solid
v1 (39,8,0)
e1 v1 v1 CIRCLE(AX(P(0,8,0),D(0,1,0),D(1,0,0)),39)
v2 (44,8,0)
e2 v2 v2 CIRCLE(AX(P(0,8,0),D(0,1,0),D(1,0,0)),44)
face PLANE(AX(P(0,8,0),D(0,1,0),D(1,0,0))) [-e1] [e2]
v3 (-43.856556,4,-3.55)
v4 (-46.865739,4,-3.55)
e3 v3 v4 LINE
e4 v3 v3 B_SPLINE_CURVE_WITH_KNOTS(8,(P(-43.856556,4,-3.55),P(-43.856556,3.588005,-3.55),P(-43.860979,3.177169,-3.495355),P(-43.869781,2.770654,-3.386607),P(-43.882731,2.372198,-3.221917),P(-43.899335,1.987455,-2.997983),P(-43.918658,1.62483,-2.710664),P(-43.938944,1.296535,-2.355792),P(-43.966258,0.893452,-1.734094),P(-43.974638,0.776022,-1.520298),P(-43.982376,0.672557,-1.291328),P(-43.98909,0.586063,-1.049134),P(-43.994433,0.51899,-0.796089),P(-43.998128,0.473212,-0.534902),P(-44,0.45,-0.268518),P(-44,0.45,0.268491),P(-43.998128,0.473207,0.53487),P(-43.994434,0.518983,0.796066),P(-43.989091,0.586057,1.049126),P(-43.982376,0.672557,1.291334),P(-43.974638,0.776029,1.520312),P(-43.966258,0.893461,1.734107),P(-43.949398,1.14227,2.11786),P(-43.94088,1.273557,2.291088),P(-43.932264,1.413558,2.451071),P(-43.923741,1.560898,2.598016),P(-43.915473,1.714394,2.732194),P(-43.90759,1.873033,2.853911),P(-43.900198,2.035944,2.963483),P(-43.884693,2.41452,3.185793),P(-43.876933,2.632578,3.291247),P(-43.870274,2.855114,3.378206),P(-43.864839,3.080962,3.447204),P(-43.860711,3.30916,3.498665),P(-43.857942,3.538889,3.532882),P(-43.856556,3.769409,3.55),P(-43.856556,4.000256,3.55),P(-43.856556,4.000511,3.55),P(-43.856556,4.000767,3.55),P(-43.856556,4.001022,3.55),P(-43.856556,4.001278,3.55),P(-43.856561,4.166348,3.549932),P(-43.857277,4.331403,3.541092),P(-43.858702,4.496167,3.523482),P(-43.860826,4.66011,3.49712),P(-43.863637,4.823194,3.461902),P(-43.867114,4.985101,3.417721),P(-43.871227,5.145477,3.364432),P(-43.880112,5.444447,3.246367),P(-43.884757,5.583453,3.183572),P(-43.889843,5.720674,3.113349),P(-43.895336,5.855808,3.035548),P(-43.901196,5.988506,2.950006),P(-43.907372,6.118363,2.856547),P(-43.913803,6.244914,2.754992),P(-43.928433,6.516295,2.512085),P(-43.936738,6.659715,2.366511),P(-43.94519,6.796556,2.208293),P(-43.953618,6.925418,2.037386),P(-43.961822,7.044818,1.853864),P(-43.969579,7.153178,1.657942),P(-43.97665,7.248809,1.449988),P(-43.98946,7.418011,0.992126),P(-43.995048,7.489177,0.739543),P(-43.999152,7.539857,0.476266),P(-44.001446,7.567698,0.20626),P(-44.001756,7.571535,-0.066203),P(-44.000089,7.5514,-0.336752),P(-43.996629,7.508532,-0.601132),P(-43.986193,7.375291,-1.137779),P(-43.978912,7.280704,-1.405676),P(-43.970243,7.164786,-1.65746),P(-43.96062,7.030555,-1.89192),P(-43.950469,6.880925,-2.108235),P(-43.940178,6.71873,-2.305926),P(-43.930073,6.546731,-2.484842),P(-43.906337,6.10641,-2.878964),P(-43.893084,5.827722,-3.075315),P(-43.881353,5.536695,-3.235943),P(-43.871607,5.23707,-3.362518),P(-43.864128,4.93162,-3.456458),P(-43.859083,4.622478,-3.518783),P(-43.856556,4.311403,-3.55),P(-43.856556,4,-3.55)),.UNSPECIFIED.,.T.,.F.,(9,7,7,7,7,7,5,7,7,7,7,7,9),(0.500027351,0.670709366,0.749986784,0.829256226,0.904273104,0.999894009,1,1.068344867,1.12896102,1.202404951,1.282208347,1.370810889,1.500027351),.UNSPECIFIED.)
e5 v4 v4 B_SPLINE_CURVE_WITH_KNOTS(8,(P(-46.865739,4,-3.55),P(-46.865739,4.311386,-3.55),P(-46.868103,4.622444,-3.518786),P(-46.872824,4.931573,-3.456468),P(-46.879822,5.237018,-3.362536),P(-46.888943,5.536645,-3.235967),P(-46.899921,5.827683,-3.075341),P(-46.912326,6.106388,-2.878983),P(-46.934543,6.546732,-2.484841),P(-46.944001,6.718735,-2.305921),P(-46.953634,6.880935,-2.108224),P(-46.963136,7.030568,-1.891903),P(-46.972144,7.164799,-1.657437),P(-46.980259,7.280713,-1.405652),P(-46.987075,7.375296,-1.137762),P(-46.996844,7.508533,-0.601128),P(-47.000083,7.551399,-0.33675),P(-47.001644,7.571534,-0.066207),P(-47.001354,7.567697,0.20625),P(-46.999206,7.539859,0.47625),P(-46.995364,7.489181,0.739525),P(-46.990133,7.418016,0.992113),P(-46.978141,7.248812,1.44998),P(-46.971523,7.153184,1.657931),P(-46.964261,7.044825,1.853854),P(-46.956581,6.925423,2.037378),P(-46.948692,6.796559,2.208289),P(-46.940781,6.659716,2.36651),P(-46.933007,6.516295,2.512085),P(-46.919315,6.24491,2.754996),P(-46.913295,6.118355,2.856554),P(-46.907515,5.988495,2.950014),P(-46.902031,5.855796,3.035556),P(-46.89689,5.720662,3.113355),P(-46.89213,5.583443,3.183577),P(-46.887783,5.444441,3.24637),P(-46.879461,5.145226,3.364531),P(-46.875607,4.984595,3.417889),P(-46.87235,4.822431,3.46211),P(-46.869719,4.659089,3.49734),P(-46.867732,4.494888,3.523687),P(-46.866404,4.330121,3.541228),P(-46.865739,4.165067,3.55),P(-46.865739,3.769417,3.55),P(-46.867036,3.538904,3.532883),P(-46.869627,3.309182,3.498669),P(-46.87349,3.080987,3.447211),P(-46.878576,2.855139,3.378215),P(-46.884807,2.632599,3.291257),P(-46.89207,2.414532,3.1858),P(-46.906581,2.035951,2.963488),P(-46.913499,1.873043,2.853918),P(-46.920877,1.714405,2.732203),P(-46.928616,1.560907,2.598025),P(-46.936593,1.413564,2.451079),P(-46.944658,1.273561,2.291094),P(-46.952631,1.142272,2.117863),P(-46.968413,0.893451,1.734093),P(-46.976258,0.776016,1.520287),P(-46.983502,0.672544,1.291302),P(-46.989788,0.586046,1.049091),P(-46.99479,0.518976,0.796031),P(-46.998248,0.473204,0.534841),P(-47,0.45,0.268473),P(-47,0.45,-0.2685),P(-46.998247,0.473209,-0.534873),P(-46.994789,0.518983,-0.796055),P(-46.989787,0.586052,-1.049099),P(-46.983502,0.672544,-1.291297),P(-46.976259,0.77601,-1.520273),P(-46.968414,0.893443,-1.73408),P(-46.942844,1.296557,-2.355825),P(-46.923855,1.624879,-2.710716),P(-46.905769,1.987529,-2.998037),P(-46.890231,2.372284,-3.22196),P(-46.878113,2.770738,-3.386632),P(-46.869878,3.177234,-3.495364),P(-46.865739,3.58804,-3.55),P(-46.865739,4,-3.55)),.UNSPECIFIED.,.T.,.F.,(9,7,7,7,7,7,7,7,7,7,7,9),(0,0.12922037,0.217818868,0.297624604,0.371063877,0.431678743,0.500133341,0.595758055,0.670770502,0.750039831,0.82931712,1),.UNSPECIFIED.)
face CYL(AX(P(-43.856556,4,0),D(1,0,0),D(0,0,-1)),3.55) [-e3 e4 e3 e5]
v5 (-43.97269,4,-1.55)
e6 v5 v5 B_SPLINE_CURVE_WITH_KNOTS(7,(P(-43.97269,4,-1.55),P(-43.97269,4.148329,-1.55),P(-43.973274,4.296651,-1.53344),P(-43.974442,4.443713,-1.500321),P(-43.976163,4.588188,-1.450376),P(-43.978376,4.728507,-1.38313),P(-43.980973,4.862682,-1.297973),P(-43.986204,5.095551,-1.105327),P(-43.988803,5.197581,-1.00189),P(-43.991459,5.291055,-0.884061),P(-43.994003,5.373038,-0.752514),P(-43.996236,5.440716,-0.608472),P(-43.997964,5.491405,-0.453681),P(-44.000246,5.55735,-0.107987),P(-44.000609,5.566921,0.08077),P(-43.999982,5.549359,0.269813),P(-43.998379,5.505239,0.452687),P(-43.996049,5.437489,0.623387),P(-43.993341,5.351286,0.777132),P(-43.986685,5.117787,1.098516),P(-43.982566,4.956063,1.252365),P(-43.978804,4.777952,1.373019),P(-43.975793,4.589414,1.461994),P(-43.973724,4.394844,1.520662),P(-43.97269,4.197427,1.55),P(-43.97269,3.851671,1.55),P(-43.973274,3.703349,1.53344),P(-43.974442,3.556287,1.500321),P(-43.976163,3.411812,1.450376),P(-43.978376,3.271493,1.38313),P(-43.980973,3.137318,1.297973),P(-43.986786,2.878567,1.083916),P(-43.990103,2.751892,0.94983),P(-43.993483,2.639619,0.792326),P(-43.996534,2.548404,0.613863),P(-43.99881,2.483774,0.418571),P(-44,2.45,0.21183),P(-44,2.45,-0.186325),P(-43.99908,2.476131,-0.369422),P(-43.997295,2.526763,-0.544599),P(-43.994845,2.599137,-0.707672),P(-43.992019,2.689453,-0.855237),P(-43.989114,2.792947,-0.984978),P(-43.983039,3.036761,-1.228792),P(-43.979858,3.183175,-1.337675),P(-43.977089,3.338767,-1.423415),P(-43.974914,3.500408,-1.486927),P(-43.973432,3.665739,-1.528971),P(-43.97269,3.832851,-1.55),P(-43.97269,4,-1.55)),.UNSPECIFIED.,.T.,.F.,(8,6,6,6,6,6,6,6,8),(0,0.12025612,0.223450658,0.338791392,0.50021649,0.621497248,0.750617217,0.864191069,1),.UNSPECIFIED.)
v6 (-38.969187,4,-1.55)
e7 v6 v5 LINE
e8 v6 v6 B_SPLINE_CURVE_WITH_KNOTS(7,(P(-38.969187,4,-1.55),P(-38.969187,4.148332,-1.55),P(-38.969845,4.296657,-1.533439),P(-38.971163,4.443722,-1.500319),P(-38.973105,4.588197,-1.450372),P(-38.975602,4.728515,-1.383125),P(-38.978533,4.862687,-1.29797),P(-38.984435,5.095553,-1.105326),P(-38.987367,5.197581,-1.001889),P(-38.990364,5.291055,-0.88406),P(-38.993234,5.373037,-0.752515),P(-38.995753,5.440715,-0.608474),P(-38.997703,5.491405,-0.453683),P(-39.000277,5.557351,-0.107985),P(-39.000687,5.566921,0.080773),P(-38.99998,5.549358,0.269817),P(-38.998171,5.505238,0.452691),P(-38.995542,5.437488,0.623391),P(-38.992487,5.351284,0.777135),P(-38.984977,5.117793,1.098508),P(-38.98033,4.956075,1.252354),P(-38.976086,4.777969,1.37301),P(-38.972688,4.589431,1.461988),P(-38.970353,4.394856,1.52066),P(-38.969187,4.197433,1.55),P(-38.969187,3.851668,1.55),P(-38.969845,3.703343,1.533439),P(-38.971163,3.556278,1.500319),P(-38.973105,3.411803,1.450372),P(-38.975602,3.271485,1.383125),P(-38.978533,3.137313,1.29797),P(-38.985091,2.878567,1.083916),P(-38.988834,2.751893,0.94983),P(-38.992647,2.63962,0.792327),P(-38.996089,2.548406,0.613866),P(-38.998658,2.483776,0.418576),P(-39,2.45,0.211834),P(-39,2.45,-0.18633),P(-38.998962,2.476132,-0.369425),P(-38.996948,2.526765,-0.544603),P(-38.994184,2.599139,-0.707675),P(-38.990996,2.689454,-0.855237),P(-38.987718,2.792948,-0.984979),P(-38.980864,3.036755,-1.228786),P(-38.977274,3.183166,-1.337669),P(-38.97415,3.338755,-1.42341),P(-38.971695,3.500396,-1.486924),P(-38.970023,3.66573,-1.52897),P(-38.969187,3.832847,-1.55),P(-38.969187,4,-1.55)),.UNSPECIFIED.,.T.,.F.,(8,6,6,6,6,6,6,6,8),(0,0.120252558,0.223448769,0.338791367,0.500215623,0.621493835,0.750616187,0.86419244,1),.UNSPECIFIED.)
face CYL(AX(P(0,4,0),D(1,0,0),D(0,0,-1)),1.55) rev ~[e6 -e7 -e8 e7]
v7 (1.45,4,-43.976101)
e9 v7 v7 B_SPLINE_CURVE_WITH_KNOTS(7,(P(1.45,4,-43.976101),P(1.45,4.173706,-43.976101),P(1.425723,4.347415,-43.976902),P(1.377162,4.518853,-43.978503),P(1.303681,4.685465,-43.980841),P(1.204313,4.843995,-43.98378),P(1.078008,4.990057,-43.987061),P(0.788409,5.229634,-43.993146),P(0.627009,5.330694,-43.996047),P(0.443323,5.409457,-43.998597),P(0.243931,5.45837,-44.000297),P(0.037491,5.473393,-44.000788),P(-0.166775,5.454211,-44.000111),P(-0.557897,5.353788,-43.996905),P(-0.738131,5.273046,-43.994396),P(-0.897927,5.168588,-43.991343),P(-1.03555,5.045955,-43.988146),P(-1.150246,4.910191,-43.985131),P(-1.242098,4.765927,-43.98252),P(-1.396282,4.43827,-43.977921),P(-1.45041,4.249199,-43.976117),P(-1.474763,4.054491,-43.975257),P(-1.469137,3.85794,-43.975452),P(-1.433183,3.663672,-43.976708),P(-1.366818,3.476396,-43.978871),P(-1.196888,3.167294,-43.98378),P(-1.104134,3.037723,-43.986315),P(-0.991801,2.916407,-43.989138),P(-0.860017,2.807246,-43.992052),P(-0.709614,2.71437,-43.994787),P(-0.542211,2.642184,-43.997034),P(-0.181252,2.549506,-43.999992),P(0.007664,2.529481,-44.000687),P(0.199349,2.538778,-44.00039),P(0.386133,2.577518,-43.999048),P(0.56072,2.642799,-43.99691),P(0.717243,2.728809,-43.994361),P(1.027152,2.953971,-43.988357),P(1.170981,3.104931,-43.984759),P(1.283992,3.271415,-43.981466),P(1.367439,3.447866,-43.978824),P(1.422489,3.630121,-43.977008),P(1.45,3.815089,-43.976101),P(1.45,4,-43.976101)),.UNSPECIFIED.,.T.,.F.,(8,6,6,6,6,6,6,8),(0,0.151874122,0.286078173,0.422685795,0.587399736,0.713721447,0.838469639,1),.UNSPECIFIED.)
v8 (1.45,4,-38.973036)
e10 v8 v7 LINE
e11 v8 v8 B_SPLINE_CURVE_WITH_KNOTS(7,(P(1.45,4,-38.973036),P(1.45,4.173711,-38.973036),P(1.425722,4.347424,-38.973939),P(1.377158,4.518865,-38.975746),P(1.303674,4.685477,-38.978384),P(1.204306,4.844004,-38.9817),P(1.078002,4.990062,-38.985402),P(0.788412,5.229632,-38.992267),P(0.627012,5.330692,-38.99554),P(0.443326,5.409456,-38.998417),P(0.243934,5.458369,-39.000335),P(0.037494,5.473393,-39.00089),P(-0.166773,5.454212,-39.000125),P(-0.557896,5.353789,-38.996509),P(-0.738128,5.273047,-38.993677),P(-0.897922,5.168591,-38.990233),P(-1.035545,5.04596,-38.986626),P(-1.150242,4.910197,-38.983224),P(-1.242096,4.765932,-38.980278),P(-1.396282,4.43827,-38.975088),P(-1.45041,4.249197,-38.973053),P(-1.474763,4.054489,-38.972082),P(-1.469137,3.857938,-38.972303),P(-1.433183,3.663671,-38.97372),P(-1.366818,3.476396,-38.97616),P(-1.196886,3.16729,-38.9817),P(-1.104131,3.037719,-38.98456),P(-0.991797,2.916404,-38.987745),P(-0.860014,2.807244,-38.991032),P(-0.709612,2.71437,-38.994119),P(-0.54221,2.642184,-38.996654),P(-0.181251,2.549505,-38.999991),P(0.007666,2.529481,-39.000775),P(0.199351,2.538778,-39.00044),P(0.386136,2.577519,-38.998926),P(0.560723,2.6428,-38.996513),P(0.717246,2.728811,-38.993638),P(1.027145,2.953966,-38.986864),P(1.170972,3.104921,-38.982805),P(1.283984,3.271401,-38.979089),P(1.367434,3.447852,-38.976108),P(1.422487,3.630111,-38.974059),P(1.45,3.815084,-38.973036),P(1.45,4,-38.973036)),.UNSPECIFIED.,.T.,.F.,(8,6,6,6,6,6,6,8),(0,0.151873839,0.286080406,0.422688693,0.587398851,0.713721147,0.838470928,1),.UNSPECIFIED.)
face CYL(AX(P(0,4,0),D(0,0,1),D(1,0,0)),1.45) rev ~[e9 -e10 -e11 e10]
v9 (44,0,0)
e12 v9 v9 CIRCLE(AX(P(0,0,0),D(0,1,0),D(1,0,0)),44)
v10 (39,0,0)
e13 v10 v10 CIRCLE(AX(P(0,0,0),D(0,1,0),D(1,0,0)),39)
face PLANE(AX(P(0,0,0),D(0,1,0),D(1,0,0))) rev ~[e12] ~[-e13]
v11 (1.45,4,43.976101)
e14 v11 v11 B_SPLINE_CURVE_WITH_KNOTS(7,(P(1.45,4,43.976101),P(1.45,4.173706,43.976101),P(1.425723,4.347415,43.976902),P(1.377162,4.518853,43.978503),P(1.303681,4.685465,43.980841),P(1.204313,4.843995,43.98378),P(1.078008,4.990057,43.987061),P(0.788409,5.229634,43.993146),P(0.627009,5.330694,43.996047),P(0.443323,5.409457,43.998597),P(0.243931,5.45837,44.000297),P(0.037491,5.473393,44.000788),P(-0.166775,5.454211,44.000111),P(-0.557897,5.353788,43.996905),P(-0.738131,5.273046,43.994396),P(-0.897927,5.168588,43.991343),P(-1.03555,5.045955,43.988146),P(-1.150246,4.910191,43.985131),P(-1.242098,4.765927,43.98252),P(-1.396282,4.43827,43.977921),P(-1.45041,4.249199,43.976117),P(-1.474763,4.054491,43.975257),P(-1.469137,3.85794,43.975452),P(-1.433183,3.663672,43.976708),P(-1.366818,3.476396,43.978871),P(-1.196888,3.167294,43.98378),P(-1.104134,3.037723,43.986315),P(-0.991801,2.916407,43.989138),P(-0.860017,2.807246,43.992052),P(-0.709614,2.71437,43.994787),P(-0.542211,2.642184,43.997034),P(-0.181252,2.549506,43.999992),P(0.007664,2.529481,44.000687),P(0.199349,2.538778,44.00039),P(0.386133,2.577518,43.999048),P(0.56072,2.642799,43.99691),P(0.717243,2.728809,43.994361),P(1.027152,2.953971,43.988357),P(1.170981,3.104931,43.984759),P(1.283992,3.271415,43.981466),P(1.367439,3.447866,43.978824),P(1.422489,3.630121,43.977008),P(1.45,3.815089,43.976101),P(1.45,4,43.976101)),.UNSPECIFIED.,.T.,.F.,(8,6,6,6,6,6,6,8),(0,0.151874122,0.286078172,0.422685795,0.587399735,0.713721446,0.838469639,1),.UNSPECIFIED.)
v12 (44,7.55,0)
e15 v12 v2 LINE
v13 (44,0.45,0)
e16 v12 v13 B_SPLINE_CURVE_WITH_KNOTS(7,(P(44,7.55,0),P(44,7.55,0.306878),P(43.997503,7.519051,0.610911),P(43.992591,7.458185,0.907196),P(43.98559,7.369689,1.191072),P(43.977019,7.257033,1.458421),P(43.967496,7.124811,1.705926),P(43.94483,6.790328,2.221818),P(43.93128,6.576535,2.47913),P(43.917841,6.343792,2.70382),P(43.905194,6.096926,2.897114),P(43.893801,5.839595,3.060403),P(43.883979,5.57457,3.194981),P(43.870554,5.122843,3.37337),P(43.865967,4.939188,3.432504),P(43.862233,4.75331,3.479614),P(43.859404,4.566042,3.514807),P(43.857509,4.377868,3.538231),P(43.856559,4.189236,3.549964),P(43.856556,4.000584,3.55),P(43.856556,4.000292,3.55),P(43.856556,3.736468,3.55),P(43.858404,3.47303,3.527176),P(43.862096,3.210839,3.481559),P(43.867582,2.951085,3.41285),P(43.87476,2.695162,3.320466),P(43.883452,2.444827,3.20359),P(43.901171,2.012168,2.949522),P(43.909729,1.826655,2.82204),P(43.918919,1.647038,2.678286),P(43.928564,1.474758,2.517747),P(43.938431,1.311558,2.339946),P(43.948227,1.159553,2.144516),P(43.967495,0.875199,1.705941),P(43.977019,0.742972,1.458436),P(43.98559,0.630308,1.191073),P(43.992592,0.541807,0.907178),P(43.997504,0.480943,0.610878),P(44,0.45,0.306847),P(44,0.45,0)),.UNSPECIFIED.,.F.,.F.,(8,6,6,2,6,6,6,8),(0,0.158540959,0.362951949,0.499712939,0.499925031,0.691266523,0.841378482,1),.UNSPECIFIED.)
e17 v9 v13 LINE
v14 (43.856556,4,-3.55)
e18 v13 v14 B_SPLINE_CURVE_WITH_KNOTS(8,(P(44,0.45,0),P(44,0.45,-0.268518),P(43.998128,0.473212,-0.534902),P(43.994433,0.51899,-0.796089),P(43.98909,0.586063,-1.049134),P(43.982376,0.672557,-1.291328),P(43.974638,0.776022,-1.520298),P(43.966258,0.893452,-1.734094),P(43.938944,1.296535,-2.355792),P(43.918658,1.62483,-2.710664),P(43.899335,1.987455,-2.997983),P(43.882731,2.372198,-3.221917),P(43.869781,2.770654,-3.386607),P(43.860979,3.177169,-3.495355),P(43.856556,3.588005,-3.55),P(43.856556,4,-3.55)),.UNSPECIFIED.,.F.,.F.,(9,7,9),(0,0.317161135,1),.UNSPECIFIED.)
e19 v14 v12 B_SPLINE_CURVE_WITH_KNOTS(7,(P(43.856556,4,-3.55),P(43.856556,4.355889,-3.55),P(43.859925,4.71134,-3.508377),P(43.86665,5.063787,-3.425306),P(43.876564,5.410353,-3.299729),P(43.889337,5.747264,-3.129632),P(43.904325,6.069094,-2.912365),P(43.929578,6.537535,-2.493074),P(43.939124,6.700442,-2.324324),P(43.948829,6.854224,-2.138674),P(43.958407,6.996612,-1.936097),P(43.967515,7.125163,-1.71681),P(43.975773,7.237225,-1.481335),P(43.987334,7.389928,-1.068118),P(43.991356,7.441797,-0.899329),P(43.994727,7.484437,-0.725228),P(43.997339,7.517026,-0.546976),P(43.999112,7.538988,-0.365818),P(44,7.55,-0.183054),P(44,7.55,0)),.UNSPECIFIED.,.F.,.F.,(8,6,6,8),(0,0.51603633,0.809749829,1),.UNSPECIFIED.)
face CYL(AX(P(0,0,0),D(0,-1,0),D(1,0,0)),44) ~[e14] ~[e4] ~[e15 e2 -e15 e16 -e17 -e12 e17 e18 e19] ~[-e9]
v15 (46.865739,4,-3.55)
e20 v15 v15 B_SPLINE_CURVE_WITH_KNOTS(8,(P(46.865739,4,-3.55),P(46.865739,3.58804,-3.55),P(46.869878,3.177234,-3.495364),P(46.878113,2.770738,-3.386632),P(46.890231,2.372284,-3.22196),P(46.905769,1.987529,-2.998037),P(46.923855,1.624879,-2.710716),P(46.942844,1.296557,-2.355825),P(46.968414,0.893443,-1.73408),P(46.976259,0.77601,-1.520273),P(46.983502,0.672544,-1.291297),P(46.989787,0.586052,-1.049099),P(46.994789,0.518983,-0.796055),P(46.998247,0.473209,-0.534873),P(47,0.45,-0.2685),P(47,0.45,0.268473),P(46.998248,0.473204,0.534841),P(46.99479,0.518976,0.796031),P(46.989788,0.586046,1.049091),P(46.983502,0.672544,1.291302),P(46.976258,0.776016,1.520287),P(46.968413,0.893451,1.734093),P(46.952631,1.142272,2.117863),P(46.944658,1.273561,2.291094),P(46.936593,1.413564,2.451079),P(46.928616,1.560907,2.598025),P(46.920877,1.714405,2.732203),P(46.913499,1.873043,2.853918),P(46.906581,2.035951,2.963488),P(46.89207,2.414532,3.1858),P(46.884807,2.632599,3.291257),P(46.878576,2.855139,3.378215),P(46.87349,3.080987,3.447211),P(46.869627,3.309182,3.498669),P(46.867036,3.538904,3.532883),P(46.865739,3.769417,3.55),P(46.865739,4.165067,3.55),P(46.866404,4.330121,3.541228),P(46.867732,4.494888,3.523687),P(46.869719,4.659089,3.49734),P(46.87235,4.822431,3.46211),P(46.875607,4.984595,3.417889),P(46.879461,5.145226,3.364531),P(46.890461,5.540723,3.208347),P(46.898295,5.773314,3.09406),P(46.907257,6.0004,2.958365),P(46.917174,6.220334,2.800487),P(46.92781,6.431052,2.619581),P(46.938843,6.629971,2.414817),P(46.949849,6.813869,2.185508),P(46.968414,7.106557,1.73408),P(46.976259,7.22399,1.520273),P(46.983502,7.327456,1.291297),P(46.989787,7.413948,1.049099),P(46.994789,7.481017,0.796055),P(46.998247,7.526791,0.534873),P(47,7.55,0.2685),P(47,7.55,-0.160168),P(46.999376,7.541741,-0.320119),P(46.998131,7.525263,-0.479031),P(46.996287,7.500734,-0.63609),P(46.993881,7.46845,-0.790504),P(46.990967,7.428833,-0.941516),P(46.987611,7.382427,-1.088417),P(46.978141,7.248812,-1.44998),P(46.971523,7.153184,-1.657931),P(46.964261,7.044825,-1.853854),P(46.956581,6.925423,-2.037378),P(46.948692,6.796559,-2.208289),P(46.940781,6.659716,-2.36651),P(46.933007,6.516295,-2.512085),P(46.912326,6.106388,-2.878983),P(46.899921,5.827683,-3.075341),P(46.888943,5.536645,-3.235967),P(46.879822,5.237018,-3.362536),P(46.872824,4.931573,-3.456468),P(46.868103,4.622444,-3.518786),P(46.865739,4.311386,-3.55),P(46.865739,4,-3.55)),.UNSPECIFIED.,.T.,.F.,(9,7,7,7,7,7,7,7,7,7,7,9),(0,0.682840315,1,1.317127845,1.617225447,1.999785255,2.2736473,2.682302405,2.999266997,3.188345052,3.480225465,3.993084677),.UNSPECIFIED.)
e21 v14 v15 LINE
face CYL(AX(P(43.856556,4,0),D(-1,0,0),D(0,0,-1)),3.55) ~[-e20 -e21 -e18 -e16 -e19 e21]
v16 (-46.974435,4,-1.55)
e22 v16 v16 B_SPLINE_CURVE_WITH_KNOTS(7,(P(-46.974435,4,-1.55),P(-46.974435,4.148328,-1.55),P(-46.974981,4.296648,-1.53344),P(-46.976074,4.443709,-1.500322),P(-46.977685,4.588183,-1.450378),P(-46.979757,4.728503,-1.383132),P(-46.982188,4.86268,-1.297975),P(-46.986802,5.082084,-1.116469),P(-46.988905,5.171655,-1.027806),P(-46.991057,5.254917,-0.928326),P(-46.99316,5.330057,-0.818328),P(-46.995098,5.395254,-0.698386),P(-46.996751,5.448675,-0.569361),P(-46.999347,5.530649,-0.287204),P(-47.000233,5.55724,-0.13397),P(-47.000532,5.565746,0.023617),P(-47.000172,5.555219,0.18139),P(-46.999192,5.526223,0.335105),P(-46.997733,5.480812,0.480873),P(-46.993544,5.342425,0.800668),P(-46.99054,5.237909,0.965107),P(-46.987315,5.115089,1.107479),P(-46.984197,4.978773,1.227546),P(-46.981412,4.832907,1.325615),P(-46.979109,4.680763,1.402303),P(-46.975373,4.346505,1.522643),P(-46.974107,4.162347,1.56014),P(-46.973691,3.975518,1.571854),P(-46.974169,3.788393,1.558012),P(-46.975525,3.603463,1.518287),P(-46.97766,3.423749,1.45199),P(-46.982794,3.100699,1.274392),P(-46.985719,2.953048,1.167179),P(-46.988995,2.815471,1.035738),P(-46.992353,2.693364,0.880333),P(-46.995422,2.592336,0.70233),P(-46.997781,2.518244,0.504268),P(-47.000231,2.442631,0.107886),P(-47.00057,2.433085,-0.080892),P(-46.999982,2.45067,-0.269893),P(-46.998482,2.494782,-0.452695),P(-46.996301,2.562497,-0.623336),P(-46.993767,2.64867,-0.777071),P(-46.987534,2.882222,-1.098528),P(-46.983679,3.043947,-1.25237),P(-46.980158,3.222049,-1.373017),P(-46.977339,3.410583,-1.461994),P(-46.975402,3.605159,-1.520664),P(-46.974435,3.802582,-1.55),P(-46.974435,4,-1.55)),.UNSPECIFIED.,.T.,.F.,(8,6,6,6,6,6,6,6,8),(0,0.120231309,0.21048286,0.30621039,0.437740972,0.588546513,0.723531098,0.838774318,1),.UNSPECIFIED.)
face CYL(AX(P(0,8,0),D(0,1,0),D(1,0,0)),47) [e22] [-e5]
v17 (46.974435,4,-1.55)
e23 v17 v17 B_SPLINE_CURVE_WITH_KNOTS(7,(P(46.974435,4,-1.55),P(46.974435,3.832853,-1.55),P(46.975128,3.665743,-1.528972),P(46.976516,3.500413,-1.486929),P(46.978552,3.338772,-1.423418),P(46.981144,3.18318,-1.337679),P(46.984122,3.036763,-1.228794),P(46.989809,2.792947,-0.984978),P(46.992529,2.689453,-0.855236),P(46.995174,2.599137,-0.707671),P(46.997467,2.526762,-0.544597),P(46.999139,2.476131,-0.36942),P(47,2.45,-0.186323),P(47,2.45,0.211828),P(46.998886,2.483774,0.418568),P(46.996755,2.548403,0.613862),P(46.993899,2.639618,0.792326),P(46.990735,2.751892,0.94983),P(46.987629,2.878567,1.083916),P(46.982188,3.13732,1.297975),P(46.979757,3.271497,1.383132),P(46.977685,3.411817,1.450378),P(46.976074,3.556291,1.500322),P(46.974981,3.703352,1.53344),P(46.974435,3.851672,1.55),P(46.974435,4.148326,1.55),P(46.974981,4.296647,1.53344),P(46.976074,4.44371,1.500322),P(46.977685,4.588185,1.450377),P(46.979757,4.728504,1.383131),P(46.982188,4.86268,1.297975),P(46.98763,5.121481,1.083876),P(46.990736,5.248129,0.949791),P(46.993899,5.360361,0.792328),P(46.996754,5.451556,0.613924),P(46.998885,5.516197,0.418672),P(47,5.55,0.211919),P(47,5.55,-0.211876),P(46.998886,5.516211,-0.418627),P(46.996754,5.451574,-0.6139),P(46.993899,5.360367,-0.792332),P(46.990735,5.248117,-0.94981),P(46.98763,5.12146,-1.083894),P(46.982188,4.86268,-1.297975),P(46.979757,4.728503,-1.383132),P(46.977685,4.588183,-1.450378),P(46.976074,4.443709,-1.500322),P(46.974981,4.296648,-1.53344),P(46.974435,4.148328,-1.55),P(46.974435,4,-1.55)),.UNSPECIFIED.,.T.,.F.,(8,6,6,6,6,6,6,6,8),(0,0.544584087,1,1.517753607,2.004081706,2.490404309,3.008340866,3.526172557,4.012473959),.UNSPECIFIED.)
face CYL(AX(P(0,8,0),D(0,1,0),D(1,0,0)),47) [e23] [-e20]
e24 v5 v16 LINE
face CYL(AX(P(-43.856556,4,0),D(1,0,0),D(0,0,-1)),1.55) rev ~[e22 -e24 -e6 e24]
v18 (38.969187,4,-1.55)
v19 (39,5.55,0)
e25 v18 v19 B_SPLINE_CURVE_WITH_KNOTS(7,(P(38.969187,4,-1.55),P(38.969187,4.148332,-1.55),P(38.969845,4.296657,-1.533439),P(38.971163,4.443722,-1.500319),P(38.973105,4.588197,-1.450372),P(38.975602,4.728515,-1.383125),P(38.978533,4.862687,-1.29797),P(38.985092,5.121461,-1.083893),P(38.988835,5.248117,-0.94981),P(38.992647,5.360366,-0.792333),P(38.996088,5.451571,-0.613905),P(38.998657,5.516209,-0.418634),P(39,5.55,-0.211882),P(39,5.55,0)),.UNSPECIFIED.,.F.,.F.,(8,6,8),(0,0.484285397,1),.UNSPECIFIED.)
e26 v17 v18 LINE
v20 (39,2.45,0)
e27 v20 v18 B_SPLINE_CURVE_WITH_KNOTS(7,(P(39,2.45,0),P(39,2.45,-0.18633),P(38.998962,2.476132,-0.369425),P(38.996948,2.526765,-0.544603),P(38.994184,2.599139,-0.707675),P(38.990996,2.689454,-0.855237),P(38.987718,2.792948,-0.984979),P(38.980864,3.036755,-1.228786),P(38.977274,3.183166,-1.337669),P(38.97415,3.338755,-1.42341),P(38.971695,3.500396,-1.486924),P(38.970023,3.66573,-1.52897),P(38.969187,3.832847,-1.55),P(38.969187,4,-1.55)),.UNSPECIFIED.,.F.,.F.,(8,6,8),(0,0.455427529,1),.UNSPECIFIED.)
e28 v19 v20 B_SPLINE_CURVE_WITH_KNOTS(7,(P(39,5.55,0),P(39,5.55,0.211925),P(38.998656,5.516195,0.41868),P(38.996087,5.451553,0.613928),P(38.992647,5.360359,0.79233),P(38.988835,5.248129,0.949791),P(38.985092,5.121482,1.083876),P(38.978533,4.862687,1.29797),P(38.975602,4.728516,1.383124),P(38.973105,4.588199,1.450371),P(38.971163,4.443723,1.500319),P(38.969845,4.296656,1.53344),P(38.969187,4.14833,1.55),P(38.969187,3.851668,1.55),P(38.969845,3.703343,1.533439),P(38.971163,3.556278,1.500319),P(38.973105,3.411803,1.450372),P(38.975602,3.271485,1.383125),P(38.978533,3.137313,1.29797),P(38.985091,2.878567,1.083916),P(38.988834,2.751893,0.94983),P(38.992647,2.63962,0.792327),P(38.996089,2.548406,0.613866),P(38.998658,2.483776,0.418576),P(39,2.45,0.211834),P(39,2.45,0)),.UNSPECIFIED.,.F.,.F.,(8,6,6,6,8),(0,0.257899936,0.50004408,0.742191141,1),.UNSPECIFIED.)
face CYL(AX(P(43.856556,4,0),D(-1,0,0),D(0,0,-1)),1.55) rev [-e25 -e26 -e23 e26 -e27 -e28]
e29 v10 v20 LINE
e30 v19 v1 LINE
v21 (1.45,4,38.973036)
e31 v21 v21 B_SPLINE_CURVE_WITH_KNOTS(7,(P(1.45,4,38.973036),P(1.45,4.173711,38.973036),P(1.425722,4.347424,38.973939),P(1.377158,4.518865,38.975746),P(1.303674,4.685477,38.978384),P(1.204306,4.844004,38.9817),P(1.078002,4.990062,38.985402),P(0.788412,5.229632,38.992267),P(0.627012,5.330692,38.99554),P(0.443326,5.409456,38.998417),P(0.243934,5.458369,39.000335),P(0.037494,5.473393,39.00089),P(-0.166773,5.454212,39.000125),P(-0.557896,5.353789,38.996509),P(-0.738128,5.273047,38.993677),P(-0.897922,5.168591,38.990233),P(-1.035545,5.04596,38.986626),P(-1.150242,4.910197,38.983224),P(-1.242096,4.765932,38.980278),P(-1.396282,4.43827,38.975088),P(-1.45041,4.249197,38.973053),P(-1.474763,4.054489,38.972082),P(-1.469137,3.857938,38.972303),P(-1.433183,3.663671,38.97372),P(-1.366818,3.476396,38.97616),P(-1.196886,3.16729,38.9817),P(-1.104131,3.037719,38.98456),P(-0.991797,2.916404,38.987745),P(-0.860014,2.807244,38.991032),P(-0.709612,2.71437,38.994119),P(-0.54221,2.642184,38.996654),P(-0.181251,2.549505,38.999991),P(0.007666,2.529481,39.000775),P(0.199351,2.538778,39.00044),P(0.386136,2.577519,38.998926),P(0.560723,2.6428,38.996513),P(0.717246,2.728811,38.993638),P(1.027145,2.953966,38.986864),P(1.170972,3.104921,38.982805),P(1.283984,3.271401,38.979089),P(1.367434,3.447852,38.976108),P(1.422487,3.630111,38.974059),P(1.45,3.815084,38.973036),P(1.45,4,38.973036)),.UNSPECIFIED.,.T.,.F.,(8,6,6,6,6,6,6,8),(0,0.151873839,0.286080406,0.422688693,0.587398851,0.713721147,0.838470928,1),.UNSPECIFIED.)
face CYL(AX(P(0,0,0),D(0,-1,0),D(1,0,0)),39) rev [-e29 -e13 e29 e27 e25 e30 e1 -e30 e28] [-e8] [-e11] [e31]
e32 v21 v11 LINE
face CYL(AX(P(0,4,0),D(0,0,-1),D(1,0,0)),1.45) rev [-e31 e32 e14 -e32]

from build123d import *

# Parameters (mm, degrees)
SKETCH1_R               = 44
SKETCH1_R_2             = 39
BOSS_EXTRUDE1_DEPTH     = 8
SKETCH2_R               = 1.45
CUT_EXTRUDE1_DEPTH      = 45
CUT_EXTRUDE1_DEPTH_BACK = 45
SKETCH3_R               = 1.55
CUT_EXTRUDE2_DEPTH      = 45.0000001
CUT_EXTRUDE2_DEPTH_BACK = 45.0000001
BOSS_EXTRUDE2_START     = -3.143444
SKETCH4_R               = 3.55
SKETCH4_R_2             = 1.55
BOSS_EXTRUDE2_DEPTH     = 3.143444
SKETCH7_R               = 50
SKETCH7_R_2             = 47
CUT_EXTRUDE3_DEPTH      = 9.0000001


with BuildPart() as part:
    # Sketch1 → Boss-Extrude1 (new body)
    with BuildSketch(Plane(origin=(0, 0, 0), x_dir=(1, 0, 0), z_dir=(0, 1, 0))):
        Circle(SKETCH1_R)
        Circle(SKETCH1_R_2, mode=Mode.SUBTRACT)
    extrude(amount=BOSS_EXTRUDE1_DEPTH)

    # Sketch2 → Cut-Extrude1 (cut, two sides)
    with BuildSketch(Plane.XY) as cut_extrude1_sk:
        with Locations((0, 4)):
            Circle(SKETCH2_R)
    extrude(amount=CUT_EXTRUDE1_DEPTH, mode=Mode.SUBTRACT)
    extrude(cut_extrude1_sk.sketch, amount=-CUT_EXTRUDE1_DEPTH_BACK, mode=Mode.SUBTRACT)

    # Sketch3 → Cut-Extrude2 (cut, two sides)
    with BuildSketch(Plane(origin=(0, 0, 0), x_dir=(0, 0, -1), z_dir=(1, 0, 0))) as cut_extrude2_sk:
        with Locations((0, 4)):
            Circle(SKETCH3_R)
    extrude(amount=CUT_EXTRUDE2_DEPTH, mode=Mode.SUBTRACT)
    extrude(cut_extrude2_sk.sketch, amount=-CUT_EXTRUDE2_DEPTH_BACK, mode=Mode.SUBTRACT)

    # Sketch4 → Boss-Extrude2 (add)
    with BuildSketch(Plane(origin=(47, 0, 0), x_dir=(0, 0, -1), z_dir=(1, 0, 0)).offset(BOSS_EXTRUDE2_START)):
        with Locations((0, 4)):
            Circle(SKETCH4_R)
        with Locations((0, 4)):
            Circle(SKETCH4_R_2, mode=Mode.SUBTRACT)
    boss_extrude2 = extrude(amount=BOSS_EXTRUDE2_DEPTH)

    # Mirror1: Boss-Extrude2 across plane
    add(boss_extrude2.mirror(Plane(origin=(0, 0, 0), x_dir=(0, 0, 1), z_dir=(1, 0, 0))))

    # Sketch7 → Cut-Extrude3 (cut, through all)
    with BuildSketch(Plane(origin=(0, 8, 0), x_dir=(1, 0, 0), z_dir=(0, 1, 0))):
        Circle(SKETCH7_R)
        Circle(SKETCH7_R_2, mode=Mode.SUBTRACT)
    extrude(amount=-CUT_EXTRUDE3_DEPTH, mode=Mode.SUBTRACT)


solid = part.part
